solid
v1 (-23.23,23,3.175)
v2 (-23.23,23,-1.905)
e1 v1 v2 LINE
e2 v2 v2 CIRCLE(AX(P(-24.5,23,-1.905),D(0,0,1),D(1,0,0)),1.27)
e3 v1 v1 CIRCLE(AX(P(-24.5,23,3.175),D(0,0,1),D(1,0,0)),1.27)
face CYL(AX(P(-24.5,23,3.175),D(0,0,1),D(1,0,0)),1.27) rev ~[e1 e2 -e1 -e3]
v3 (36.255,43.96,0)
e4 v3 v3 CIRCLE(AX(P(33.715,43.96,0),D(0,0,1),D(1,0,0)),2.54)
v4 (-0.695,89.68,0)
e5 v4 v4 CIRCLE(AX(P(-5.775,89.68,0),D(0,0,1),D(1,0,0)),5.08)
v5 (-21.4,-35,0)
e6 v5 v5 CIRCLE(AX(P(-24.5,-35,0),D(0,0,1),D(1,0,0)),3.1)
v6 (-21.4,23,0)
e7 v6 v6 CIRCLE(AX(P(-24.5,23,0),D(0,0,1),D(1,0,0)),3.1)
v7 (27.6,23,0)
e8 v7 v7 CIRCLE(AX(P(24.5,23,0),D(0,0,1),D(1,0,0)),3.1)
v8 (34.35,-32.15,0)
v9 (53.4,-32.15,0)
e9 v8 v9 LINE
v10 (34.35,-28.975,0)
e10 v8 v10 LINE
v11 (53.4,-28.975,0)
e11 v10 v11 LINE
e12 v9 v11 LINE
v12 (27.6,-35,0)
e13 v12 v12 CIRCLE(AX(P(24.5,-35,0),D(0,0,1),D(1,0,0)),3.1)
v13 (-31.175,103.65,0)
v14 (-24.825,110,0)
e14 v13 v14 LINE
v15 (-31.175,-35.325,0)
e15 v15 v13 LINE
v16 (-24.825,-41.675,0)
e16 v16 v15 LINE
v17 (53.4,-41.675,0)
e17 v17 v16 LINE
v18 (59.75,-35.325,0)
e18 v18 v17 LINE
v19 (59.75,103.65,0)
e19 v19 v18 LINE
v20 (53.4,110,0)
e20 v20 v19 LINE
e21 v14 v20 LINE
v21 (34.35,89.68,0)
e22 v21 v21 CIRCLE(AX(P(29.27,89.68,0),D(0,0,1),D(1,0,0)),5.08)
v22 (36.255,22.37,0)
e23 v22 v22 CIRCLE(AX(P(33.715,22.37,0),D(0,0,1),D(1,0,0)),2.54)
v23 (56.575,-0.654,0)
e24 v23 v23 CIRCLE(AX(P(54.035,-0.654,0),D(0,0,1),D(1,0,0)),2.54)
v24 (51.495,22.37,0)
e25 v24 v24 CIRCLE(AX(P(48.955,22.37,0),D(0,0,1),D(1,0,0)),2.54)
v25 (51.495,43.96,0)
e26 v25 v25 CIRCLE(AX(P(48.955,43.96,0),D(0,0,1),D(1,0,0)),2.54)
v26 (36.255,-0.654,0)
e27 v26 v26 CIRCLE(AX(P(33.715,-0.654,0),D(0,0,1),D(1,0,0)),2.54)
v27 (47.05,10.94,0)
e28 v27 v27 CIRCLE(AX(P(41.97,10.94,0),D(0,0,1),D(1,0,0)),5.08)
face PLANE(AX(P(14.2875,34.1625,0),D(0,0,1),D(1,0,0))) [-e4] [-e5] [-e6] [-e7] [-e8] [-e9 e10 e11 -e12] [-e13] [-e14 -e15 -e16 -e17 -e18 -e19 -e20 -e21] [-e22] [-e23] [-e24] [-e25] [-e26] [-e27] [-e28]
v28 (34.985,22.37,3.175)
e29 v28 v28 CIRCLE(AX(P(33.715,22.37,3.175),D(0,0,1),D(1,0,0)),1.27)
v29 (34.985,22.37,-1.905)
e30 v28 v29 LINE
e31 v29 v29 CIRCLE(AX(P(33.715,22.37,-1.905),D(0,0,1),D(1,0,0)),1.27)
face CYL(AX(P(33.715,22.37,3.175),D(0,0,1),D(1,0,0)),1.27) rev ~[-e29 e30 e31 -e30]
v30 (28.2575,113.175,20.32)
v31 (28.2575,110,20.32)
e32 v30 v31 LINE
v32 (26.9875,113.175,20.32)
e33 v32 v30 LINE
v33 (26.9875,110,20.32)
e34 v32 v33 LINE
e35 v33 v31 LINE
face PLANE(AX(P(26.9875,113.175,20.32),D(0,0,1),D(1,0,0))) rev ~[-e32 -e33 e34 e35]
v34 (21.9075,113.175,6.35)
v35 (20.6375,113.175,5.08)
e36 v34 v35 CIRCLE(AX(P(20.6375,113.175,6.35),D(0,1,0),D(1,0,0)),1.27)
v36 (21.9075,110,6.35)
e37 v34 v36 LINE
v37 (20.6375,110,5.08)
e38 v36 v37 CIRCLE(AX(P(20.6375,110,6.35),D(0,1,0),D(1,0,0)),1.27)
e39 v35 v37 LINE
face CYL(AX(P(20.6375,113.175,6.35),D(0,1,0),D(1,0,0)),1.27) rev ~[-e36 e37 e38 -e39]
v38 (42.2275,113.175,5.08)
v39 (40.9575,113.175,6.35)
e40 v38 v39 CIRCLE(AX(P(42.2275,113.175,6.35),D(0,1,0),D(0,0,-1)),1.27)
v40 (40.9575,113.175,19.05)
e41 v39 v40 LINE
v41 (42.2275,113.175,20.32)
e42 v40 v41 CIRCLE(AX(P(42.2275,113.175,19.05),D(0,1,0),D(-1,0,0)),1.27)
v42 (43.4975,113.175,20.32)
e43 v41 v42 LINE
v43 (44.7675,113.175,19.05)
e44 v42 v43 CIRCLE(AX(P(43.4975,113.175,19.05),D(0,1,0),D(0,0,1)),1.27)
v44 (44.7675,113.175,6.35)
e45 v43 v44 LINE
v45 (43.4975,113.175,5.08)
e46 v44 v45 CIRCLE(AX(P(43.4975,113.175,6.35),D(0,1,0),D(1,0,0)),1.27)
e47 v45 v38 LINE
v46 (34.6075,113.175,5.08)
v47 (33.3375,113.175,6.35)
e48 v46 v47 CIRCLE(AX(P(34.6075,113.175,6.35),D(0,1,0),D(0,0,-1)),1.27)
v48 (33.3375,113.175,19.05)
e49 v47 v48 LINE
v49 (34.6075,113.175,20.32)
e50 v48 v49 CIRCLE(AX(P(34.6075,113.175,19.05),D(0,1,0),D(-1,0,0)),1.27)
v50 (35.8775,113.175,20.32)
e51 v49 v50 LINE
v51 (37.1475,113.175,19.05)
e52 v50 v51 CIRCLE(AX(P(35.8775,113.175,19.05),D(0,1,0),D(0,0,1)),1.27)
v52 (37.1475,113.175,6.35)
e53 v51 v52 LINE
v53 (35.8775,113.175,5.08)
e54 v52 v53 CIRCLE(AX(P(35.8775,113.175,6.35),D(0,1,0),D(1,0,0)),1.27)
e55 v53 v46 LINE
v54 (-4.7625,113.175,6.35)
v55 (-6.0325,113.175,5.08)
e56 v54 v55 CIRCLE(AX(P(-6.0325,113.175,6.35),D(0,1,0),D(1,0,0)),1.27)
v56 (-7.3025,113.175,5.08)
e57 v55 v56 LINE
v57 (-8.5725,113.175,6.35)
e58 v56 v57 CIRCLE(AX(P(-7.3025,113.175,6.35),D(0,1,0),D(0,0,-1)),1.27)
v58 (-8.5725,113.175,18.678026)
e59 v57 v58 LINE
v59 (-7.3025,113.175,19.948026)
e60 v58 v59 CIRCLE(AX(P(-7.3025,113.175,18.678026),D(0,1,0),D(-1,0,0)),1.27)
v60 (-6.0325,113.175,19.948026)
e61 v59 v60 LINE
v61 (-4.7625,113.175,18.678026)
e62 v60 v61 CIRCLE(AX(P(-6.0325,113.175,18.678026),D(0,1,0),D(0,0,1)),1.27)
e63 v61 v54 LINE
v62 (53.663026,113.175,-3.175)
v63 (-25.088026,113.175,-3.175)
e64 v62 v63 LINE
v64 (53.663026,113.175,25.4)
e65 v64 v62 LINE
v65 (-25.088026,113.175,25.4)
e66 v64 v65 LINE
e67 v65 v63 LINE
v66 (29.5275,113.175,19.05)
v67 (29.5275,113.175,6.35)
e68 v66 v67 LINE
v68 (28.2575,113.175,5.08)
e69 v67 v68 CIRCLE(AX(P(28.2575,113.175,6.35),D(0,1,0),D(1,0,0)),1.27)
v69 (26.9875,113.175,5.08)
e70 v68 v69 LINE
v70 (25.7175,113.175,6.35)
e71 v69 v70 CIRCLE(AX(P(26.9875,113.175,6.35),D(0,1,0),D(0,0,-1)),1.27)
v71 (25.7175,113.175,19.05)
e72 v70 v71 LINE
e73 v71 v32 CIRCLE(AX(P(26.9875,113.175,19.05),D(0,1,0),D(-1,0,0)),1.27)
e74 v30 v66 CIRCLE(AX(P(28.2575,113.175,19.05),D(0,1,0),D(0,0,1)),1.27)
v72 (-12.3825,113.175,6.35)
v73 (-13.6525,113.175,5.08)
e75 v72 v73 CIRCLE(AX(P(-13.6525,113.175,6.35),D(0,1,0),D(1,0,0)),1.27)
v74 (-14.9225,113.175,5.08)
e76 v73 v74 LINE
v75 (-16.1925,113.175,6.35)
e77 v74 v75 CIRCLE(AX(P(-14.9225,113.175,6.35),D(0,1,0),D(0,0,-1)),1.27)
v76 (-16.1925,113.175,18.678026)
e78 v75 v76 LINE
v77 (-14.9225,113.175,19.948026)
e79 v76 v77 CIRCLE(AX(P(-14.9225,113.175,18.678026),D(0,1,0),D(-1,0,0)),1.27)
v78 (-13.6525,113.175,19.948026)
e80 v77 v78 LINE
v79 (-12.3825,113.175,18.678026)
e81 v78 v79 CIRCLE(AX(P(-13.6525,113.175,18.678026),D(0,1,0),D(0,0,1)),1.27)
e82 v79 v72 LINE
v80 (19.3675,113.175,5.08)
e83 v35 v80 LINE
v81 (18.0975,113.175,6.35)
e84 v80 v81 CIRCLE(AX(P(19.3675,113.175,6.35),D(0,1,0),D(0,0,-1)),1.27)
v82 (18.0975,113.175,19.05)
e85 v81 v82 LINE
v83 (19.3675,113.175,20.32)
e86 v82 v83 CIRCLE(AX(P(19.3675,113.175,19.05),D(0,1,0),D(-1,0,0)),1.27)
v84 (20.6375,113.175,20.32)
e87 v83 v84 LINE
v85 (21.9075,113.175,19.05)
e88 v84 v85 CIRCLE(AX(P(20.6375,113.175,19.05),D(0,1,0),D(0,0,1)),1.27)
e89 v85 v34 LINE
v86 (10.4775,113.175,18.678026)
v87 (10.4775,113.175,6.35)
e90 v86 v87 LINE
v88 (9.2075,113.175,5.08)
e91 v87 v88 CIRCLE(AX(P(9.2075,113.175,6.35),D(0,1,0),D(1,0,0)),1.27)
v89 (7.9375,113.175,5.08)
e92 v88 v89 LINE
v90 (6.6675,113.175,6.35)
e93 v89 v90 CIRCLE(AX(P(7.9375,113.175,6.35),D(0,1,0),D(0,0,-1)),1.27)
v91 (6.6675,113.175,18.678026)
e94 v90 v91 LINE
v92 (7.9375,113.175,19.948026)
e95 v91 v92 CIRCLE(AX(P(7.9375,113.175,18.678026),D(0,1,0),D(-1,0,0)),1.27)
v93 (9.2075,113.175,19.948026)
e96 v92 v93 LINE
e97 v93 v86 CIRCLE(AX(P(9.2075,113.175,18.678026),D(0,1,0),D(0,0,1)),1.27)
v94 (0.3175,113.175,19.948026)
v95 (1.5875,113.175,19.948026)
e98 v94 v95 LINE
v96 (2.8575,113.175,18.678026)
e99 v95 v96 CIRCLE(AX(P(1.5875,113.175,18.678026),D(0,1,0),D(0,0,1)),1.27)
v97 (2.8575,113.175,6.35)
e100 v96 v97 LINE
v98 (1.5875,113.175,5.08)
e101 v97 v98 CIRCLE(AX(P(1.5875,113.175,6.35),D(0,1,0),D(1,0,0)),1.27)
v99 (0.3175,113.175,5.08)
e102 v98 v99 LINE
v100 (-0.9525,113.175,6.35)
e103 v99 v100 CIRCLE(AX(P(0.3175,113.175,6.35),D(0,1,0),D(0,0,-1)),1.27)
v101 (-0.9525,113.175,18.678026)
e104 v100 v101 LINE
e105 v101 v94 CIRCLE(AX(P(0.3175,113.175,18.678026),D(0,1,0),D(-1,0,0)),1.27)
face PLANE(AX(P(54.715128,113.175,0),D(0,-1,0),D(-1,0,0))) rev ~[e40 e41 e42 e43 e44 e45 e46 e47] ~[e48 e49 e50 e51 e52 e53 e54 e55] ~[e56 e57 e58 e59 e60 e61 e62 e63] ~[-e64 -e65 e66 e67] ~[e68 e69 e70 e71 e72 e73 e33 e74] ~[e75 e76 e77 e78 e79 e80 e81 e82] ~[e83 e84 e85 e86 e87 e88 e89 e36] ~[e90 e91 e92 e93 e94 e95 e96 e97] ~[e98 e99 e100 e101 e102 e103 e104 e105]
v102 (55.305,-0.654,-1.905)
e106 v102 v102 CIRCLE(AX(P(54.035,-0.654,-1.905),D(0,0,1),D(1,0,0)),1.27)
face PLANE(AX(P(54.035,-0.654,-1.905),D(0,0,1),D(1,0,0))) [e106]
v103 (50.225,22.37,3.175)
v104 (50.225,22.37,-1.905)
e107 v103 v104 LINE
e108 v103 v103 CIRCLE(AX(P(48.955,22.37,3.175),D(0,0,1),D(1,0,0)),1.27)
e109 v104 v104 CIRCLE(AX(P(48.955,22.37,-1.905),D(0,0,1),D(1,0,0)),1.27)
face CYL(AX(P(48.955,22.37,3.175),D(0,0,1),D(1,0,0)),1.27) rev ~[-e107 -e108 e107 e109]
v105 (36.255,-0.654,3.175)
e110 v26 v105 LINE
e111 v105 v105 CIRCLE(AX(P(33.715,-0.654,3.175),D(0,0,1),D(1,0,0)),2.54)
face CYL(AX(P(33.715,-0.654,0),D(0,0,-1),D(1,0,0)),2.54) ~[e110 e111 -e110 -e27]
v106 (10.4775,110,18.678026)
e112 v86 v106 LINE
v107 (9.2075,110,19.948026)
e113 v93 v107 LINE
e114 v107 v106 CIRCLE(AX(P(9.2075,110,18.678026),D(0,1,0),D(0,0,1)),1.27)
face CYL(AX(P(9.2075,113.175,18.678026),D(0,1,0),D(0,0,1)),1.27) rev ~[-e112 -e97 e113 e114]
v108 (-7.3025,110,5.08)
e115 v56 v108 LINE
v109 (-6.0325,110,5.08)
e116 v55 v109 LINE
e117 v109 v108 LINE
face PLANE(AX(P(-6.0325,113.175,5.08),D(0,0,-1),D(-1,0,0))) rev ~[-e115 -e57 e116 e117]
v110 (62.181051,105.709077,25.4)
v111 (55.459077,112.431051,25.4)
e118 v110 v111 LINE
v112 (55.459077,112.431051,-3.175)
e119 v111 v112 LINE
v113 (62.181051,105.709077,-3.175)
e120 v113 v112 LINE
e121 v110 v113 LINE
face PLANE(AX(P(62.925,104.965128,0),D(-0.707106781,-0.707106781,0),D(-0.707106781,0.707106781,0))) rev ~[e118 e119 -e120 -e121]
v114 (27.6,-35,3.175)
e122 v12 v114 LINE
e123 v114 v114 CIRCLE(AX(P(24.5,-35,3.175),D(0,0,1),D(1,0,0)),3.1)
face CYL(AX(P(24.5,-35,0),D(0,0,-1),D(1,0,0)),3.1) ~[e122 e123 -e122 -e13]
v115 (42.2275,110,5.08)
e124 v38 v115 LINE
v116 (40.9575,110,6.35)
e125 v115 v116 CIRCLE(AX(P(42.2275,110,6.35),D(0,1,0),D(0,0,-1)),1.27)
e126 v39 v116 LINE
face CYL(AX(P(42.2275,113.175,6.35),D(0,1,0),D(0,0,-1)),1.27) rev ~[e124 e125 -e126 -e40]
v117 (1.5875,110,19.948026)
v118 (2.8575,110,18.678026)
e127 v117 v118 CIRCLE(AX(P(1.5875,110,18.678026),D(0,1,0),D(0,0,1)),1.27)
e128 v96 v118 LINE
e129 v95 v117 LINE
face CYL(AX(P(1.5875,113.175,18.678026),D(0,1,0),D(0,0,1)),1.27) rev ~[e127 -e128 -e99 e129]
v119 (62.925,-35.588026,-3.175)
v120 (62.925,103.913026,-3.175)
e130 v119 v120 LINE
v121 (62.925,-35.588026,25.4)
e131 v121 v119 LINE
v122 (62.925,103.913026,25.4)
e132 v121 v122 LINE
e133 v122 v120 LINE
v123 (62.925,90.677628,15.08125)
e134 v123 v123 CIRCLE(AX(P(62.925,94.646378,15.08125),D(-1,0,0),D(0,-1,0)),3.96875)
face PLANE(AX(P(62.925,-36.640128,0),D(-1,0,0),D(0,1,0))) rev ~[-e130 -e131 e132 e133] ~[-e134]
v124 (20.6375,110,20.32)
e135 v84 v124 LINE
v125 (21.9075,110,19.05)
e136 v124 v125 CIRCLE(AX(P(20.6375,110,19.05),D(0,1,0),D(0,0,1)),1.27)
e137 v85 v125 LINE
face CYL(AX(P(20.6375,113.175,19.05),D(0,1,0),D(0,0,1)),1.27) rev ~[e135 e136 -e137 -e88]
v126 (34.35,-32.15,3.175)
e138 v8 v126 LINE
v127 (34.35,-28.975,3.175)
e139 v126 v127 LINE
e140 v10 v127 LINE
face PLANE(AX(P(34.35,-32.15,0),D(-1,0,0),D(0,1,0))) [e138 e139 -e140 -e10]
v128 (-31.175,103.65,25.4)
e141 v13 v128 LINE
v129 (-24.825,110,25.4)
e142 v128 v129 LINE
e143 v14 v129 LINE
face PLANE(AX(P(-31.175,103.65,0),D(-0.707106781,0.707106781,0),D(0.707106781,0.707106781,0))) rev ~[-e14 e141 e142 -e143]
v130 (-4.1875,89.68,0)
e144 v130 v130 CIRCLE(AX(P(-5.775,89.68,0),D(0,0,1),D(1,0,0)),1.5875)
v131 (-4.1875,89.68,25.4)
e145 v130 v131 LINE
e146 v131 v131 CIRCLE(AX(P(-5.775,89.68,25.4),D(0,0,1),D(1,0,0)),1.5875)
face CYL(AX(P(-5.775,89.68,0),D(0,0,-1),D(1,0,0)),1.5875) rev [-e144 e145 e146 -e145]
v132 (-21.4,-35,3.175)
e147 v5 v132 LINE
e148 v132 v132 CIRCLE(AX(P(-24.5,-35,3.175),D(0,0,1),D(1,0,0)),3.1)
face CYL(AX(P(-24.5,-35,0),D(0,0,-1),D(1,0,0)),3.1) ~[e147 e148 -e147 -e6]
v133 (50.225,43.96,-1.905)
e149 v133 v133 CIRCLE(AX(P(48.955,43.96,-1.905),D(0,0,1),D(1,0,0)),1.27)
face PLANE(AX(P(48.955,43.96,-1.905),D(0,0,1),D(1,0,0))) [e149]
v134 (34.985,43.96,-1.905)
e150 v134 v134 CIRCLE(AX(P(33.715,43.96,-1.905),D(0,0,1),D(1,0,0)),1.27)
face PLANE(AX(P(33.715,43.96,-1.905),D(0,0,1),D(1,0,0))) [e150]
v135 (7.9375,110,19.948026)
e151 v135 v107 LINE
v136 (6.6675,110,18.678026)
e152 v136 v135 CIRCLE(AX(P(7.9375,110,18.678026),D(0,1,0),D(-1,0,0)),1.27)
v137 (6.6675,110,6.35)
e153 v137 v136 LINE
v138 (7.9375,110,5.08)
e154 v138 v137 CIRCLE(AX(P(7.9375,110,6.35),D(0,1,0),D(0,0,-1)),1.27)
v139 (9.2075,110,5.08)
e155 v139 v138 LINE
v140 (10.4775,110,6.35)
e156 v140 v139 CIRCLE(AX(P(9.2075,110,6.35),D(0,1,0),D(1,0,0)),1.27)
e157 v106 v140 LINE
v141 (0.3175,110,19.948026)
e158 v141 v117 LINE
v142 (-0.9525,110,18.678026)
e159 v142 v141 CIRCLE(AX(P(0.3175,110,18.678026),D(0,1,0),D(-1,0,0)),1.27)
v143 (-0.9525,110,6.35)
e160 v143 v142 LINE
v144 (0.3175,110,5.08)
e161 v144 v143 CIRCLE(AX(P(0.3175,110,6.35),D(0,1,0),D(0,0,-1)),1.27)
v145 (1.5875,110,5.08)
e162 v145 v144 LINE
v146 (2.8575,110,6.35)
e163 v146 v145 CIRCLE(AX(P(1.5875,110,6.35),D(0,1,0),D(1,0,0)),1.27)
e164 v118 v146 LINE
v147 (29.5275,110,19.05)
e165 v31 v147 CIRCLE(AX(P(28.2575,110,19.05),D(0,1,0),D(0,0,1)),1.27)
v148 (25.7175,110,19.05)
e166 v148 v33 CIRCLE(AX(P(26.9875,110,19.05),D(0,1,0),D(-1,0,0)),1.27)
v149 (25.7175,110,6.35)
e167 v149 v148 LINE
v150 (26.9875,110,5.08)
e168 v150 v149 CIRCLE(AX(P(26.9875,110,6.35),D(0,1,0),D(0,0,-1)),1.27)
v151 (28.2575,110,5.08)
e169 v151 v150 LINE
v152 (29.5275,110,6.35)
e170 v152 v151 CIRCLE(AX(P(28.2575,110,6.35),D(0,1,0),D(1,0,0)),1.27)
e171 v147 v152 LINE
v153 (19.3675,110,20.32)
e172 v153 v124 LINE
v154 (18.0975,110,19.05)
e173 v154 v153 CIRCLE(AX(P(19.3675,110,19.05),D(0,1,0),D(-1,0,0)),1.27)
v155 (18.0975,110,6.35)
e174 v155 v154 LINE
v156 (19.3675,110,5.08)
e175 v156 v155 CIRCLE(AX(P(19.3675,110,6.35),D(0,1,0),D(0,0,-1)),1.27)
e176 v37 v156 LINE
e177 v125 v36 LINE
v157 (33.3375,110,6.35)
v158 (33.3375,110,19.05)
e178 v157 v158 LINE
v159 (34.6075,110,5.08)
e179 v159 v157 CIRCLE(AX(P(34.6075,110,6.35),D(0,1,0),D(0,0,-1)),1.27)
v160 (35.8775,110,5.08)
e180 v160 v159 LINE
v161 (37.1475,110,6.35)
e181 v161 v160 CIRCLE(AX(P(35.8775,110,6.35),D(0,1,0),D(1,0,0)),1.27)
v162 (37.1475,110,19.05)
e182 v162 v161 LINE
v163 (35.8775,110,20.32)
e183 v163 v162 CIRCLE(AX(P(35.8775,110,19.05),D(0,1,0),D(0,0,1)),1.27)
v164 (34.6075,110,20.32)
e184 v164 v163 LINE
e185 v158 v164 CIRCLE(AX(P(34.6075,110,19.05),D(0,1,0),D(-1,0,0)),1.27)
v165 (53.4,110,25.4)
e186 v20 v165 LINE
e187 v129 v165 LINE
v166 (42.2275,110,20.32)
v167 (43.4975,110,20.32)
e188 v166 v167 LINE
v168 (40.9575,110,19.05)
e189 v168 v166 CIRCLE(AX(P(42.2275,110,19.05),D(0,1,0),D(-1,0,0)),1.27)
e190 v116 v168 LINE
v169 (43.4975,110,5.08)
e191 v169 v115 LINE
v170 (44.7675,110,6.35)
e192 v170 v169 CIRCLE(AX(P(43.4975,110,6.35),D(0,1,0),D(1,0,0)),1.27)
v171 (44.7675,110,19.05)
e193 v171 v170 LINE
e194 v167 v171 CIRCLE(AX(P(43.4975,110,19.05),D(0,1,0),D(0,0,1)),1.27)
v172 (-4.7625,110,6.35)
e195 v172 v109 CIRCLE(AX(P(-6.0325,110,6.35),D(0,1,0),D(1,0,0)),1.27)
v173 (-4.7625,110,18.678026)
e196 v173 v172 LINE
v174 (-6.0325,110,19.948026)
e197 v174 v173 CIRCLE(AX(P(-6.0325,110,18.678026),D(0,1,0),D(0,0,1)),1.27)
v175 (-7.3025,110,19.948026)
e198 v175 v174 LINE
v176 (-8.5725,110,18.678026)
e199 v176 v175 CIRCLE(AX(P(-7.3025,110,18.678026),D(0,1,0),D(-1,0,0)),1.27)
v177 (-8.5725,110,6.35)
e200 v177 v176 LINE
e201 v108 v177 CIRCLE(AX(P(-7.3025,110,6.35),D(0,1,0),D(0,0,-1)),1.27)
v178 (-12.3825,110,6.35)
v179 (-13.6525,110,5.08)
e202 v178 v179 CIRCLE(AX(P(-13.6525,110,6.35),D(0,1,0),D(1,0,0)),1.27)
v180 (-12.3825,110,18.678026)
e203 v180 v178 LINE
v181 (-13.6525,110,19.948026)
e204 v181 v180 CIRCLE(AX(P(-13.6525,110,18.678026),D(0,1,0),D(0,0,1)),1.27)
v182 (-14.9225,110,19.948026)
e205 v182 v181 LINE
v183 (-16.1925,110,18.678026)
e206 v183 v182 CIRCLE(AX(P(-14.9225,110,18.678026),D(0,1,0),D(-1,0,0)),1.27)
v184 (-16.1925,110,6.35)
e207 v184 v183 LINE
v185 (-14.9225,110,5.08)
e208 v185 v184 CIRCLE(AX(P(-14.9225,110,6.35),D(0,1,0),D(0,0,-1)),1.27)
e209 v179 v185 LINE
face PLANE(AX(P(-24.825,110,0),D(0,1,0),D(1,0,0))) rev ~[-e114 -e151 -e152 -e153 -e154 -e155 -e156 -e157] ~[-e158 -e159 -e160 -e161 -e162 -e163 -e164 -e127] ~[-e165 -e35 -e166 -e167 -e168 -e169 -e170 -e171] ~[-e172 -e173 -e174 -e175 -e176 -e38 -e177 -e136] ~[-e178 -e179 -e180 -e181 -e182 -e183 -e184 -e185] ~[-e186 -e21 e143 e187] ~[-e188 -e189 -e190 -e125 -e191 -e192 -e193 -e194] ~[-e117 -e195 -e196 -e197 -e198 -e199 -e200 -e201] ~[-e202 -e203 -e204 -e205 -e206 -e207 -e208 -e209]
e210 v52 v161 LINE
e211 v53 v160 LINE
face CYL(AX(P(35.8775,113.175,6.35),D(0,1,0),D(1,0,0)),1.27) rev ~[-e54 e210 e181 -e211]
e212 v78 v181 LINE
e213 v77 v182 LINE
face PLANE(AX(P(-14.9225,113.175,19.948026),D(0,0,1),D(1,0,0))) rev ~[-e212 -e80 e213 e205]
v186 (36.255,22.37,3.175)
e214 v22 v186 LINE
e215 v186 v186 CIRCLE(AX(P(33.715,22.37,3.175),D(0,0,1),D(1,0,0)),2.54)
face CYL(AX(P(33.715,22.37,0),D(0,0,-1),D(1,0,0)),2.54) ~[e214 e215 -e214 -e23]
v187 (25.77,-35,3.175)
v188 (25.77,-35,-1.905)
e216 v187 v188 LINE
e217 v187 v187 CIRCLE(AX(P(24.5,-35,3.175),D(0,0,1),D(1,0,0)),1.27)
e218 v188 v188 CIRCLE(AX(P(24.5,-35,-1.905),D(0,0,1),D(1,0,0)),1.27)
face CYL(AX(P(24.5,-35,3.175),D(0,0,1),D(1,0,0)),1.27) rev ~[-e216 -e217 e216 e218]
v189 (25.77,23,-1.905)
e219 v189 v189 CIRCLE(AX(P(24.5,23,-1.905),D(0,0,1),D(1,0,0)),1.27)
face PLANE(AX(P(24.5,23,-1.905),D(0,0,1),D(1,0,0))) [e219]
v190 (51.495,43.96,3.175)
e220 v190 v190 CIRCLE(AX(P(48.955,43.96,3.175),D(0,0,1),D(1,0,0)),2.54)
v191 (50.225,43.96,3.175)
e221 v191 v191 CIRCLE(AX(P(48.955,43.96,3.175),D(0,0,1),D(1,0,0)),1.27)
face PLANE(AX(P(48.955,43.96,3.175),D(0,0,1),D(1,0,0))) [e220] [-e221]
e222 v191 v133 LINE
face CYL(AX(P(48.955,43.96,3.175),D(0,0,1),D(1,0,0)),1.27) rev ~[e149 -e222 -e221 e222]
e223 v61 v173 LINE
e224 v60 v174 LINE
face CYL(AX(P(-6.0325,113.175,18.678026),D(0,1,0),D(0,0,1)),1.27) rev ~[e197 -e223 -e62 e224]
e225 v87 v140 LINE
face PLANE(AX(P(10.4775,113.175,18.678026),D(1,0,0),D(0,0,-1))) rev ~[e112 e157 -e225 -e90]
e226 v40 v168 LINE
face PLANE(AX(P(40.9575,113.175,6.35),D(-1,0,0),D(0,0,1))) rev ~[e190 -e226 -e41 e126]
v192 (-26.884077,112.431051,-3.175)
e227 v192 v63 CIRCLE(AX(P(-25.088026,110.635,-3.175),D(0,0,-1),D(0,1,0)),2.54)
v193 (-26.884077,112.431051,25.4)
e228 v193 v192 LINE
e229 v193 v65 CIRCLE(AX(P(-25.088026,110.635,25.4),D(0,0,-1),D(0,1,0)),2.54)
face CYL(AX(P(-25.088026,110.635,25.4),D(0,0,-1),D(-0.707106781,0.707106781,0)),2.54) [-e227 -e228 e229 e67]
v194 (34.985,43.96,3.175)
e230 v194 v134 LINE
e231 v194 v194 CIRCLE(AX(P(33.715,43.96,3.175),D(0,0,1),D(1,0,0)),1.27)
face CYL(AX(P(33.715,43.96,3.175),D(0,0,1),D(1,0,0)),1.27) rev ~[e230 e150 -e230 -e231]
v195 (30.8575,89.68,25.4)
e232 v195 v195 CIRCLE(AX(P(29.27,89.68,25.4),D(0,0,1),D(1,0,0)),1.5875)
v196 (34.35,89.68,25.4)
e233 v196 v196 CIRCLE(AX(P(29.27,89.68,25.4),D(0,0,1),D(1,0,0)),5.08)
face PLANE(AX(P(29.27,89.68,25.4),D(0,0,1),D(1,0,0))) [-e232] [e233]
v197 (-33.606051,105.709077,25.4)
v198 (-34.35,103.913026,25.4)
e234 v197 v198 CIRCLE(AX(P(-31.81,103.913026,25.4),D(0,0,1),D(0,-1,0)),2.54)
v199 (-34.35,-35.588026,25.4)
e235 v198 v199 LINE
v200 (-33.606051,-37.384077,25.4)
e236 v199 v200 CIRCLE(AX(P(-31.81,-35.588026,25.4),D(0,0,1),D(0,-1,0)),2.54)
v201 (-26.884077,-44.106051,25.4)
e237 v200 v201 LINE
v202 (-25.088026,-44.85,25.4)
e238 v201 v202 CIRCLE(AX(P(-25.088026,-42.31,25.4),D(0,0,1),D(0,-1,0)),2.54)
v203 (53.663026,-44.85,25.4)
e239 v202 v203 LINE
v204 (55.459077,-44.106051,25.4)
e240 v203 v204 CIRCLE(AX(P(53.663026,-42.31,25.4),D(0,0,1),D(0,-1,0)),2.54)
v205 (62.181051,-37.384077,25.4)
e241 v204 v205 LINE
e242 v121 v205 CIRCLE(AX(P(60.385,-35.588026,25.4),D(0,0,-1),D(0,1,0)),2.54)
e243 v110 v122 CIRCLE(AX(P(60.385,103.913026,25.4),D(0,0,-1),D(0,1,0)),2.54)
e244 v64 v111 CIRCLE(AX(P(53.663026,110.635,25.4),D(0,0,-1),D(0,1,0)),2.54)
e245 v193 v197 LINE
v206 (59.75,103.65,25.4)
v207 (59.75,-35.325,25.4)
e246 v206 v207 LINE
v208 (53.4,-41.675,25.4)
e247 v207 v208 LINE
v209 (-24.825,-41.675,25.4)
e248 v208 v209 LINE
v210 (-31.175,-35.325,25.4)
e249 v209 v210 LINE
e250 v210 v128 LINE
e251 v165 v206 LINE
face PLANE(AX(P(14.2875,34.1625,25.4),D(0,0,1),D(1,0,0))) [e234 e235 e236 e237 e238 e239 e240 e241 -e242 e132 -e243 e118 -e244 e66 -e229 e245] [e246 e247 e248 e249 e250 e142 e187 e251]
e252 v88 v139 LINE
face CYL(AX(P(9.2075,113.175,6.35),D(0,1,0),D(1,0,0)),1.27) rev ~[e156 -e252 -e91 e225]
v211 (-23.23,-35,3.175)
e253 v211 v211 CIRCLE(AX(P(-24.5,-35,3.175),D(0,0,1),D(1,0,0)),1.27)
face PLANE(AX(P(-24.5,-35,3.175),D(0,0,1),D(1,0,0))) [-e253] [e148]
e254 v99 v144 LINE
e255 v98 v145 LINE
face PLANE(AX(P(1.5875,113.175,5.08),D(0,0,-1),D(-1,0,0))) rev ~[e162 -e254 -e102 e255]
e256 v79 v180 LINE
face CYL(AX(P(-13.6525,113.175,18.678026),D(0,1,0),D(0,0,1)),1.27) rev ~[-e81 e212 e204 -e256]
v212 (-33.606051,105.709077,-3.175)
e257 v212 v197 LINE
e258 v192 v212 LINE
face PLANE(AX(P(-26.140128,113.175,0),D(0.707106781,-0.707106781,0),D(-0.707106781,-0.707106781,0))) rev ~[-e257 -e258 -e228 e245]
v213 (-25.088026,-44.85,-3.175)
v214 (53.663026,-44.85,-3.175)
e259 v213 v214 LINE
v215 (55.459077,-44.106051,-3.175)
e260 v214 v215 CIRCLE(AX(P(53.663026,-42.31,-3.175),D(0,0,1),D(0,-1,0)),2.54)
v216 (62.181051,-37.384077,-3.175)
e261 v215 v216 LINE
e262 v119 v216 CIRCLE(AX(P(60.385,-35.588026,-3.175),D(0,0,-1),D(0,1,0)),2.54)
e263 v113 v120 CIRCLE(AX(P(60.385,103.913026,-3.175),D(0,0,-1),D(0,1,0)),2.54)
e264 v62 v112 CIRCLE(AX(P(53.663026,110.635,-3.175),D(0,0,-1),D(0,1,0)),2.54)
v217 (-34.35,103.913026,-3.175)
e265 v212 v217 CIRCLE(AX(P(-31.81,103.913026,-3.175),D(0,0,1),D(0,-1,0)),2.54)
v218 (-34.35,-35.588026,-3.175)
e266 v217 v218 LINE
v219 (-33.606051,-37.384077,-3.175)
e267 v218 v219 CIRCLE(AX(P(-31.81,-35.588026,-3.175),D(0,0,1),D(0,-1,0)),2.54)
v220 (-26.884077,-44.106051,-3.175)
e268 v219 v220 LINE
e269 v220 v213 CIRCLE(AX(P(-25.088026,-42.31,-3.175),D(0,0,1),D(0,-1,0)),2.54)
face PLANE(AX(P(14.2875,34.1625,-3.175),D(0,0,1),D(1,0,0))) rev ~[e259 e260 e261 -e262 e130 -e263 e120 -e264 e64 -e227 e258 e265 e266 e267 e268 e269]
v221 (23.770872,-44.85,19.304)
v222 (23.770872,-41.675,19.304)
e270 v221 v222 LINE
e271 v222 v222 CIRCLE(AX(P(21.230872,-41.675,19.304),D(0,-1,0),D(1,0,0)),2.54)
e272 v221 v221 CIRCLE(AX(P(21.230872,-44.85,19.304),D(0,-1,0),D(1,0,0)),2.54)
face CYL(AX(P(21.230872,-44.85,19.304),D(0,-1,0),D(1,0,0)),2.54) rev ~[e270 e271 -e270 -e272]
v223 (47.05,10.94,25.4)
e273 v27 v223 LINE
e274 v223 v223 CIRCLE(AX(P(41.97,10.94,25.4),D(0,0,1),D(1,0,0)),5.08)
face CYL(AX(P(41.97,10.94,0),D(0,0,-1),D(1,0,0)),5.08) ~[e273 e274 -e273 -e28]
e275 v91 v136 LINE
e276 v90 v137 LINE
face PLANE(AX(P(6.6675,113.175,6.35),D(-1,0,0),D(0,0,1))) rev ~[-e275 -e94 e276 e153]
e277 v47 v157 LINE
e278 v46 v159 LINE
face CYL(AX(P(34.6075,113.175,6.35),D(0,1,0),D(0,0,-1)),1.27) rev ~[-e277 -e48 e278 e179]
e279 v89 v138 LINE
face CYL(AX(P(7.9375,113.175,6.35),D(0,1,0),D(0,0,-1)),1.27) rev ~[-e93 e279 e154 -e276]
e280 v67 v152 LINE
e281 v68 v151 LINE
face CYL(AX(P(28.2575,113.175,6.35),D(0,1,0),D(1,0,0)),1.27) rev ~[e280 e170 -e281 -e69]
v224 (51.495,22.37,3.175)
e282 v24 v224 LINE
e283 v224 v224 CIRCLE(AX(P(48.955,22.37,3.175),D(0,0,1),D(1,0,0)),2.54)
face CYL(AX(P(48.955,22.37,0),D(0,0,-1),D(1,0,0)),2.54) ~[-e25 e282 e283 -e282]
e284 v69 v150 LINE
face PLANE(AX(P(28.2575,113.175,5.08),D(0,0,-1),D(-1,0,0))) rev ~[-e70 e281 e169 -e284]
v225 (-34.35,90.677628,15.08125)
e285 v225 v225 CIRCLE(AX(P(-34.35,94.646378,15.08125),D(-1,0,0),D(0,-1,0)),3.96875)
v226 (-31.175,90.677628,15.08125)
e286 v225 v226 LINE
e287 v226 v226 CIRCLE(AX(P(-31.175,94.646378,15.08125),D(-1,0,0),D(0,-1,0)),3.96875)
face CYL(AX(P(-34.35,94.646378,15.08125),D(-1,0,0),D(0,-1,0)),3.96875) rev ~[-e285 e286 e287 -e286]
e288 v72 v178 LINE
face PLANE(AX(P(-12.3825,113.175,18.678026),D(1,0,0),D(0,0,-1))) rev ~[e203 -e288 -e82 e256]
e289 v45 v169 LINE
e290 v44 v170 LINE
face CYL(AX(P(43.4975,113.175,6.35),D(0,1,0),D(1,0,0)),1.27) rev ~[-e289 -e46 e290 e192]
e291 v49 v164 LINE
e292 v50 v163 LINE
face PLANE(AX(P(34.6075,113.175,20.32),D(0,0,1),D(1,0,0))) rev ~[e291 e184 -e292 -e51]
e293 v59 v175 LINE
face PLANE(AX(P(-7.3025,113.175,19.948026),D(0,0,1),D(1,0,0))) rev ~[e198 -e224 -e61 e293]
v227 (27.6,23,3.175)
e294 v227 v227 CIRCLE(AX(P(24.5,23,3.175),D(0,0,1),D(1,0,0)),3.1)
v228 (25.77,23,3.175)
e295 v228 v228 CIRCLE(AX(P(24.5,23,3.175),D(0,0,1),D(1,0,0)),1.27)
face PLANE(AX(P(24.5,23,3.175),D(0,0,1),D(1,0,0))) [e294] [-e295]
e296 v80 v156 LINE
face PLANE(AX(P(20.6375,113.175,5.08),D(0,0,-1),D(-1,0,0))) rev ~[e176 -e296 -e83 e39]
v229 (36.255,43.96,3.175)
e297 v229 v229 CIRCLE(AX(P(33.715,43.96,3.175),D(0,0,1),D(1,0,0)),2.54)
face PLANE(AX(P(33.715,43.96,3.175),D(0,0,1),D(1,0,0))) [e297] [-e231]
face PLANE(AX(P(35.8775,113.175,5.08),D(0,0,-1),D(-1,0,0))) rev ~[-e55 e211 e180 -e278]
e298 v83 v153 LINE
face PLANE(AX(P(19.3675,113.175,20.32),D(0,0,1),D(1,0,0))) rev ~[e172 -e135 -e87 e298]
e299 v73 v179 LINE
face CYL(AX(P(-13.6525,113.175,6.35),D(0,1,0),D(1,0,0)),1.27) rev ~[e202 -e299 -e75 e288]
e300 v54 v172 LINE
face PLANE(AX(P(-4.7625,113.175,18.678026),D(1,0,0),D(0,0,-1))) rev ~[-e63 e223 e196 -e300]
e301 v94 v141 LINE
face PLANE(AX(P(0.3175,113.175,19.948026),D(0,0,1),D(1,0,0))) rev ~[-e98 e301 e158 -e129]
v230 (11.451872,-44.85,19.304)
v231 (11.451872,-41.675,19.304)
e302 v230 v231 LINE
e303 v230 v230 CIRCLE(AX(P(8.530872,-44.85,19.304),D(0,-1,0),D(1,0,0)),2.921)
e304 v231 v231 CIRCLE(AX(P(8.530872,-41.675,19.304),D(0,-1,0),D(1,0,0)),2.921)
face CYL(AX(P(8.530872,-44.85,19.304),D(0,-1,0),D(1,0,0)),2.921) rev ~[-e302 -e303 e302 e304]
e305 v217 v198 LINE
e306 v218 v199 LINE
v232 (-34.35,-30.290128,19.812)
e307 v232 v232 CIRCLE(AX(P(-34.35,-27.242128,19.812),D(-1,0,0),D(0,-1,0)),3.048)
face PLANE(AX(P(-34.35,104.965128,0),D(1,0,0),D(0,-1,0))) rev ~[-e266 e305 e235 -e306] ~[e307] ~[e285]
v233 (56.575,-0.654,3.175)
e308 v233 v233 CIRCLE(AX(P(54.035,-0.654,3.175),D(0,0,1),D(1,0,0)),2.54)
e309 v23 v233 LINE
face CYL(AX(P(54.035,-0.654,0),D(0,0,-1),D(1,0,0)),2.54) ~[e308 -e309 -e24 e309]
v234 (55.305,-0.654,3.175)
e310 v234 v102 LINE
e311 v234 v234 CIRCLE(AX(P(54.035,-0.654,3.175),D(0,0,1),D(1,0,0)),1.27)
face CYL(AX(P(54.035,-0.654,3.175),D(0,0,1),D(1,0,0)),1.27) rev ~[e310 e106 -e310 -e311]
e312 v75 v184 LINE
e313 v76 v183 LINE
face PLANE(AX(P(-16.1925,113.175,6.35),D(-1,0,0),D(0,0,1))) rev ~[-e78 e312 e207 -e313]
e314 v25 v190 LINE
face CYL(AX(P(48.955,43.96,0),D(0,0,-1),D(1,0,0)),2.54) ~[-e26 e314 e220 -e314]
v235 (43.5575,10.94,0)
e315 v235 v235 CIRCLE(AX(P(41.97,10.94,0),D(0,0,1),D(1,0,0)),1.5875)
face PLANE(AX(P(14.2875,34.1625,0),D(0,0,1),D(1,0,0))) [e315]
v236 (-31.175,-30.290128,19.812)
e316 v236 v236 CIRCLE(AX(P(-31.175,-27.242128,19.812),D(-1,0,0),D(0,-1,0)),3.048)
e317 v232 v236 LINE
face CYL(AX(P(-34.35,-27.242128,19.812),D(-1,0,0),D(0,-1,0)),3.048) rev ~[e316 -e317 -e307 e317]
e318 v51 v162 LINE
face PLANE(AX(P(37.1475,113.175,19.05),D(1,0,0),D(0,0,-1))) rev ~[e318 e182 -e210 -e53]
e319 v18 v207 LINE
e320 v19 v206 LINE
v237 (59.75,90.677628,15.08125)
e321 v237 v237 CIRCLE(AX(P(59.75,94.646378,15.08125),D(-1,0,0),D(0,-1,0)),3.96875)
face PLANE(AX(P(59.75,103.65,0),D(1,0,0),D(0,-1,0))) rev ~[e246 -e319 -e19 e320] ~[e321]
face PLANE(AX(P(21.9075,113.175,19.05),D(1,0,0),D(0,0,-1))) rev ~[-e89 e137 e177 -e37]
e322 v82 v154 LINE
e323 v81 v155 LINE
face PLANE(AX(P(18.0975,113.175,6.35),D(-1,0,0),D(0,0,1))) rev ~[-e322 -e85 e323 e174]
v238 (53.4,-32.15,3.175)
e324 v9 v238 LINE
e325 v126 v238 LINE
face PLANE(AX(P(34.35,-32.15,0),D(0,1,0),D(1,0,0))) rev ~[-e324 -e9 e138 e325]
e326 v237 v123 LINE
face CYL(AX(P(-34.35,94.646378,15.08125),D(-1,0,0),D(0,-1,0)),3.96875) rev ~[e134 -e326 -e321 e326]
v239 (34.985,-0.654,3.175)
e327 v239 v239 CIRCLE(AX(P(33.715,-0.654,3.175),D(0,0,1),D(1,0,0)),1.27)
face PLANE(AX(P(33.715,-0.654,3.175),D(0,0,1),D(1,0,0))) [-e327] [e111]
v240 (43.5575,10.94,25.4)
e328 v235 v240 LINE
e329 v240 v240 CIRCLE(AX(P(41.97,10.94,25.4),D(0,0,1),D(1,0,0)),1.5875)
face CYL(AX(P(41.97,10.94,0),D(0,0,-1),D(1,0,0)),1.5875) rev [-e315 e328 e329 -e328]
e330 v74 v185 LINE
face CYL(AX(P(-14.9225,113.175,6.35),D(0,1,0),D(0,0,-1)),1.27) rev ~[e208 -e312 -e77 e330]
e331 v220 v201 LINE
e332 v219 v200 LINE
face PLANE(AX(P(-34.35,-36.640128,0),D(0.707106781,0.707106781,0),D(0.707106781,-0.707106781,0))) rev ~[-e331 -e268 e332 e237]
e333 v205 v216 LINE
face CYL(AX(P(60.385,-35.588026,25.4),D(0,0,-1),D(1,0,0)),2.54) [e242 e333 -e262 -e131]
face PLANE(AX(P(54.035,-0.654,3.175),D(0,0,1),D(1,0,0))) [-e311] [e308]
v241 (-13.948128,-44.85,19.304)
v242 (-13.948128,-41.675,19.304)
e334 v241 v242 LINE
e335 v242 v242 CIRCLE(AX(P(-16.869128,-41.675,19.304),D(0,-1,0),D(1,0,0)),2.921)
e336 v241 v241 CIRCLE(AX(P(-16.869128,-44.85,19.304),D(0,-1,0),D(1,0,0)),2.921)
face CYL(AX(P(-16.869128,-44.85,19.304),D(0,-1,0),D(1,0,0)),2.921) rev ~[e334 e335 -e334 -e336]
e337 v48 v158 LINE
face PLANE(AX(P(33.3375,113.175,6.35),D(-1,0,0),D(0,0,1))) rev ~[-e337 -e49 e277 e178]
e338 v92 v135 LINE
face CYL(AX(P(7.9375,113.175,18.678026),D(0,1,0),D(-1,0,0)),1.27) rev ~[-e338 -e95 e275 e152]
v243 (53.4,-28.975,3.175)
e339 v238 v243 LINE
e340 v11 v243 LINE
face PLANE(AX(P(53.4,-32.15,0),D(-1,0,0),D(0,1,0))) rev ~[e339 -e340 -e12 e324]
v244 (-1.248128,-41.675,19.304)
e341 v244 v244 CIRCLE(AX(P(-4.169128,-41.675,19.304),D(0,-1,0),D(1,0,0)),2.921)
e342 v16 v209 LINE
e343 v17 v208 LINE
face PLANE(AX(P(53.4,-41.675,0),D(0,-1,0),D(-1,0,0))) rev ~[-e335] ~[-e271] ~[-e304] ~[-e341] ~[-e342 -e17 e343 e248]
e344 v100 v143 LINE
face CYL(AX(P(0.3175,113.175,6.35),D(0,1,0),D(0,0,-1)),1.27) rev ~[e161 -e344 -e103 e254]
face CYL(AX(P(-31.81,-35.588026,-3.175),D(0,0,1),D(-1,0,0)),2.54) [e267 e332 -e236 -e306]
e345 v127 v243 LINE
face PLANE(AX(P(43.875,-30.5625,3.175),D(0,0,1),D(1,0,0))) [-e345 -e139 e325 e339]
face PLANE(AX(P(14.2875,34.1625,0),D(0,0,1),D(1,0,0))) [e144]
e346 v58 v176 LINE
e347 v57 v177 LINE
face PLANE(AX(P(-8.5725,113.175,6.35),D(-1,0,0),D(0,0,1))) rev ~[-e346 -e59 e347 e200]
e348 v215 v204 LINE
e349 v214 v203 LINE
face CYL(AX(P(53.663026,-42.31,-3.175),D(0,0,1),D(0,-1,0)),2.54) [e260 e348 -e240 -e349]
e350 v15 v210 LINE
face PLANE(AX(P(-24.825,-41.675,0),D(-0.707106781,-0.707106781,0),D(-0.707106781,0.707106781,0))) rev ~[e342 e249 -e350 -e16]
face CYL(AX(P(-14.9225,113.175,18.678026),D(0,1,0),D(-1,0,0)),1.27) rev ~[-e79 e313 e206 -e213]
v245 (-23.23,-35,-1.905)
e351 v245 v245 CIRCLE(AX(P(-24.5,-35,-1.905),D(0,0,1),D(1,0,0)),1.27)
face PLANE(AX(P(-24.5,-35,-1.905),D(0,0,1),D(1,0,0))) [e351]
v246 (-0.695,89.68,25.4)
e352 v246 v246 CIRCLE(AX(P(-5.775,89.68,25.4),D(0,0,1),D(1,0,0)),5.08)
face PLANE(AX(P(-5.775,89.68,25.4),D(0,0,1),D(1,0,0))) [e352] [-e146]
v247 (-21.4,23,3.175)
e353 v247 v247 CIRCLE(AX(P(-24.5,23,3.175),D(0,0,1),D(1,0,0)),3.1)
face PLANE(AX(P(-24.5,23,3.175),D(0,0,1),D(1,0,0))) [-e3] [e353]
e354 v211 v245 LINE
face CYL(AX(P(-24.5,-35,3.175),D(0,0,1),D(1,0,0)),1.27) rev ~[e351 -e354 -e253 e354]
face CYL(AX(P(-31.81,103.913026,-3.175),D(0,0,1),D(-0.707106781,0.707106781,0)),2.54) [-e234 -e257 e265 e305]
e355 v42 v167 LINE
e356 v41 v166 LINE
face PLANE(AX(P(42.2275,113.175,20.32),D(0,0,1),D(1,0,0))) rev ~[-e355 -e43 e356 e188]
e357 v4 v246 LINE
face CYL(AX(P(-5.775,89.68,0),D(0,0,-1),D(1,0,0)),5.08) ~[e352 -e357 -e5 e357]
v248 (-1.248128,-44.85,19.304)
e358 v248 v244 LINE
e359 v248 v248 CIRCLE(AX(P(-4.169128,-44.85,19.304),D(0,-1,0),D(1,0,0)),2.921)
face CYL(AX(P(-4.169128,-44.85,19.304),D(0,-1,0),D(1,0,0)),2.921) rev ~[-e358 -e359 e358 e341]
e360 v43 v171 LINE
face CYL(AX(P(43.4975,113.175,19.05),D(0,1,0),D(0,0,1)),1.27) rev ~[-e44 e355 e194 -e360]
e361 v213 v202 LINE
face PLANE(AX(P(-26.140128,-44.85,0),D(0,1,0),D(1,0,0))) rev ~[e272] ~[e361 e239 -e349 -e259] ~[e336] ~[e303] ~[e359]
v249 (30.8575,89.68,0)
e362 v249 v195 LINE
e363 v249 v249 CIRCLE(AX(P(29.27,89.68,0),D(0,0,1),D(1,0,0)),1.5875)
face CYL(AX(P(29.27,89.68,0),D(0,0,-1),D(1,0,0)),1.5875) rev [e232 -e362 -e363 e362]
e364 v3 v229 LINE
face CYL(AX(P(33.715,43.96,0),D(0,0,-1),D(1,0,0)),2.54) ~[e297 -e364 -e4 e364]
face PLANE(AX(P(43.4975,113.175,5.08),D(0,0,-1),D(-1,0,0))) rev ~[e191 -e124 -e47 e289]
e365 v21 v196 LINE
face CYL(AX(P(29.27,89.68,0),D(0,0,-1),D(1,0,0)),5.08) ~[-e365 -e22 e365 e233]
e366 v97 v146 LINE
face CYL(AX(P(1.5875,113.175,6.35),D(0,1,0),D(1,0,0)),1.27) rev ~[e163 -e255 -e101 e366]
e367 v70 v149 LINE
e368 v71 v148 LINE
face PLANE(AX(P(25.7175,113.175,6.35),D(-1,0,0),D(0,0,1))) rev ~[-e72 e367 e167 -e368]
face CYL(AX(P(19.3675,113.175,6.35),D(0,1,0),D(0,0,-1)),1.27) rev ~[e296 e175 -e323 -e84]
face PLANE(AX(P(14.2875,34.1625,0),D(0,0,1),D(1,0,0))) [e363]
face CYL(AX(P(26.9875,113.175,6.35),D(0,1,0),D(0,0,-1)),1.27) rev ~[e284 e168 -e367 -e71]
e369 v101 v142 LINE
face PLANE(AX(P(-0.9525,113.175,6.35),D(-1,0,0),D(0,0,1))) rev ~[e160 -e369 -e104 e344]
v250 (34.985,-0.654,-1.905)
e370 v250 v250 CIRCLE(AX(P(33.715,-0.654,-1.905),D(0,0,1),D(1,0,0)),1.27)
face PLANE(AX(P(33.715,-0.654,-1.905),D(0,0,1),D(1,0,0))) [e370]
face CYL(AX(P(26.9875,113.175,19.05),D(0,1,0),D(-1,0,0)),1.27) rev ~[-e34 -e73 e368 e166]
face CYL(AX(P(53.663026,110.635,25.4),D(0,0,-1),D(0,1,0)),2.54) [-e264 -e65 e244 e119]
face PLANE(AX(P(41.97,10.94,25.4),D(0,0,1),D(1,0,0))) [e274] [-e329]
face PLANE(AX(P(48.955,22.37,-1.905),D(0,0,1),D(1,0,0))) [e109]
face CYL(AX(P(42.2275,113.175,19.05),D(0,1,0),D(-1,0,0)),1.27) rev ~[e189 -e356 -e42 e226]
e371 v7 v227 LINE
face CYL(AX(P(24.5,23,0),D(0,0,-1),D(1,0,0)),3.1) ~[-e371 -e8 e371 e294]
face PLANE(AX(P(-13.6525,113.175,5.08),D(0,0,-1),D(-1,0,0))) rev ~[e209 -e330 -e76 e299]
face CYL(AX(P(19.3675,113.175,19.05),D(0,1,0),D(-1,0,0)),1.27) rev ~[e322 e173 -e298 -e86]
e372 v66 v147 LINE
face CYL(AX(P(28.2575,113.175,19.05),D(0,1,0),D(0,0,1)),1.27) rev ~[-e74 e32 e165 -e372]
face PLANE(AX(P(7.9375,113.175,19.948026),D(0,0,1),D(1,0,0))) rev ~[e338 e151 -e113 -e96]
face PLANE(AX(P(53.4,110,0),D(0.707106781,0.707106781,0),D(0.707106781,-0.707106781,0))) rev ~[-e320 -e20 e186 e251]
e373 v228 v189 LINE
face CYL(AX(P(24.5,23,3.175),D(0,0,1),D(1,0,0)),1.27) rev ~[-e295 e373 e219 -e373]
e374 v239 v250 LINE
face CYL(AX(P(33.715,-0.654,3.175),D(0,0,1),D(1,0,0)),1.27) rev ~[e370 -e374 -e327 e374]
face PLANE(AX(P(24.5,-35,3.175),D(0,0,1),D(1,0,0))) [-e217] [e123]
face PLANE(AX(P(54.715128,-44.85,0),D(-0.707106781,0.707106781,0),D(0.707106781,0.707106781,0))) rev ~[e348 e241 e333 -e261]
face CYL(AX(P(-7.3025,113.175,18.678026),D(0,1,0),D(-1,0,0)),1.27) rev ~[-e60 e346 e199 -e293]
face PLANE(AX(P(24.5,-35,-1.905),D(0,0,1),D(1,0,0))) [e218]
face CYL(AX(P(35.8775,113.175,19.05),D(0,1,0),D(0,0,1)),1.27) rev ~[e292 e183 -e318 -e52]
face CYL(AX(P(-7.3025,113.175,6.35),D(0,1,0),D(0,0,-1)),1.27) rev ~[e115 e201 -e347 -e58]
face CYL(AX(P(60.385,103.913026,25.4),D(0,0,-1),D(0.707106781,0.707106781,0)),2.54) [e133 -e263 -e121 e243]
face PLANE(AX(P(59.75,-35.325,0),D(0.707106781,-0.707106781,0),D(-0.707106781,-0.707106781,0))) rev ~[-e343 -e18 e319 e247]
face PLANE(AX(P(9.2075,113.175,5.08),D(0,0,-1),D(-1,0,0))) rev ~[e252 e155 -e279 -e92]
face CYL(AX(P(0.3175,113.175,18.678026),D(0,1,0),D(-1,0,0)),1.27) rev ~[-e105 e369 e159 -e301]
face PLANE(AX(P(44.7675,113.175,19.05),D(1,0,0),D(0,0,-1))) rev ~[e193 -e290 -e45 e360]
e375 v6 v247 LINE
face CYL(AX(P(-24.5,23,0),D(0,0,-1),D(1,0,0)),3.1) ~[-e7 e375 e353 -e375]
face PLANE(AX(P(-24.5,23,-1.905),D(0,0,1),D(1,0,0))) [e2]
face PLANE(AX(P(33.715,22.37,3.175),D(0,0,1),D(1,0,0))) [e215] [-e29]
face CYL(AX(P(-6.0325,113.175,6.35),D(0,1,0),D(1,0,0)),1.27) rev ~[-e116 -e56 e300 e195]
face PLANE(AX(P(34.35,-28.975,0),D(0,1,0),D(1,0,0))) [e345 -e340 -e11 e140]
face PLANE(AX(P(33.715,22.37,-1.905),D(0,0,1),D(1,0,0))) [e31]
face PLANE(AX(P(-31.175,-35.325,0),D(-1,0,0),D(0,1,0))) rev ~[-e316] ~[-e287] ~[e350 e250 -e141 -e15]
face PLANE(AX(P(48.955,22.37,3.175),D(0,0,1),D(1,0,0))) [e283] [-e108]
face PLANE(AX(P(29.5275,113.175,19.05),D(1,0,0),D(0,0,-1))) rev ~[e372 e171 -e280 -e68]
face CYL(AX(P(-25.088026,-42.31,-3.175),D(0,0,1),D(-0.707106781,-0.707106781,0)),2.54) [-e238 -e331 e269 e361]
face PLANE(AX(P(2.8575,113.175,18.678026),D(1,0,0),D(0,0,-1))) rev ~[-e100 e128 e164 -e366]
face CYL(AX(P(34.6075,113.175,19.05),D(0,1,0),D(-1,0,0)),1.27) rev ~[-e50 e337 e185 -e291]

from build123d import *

# Parameters (mm, degrees)
F4_DEPTH  = 3.175
F5_DEPTH  = 25.4
F6_R      = 3.1
F6_R_2    = 2.54
F6_W      = 19.05
F6_H      = 3.175
F0_R      = 3.1
F0_R_2    = 1.375
F7_DEPTH  = 3.175
F8_R      = 1.27
F9_DEPTH  = 5.08
F10_R     = 3.048
F11_DEPTH = 3.175
F12_R     = 3.96875
F13_DEPTH = 97.276
F15_DEPTH = 3.175
F16_R     = 2.921
F16_R_2   = 2.54
F17_DEPTH = 3.175
F18_R     = 2.54
F19_R     = 5.08
F19_R_2   = 1.5875
F20_DEPTH = 25.4


with BuildPart() as f4:
    # F3 (on Top) → F4 (new body)
    with BuildSketch(Plane.XY):
        Polygon((-26.1401280605, 113.175), (-34.35, 104.9651280605), (-34.35, -36.6401280605), (-26.1401280605, -44.85), (54.7151280605, -44.85), (62.925, -36.6401280605), (62.925, 104.9651280605), (54.7151280605, 113.175), align=None)
        Polygon((-31.175, 103.65), (-24.825, 110), (53.4, 110), (59.75, 103.65), (59.75, -35.325), (53.4, -41.675), (-24.825, -41.675), (-31.175, -35.325), align=None, mode=Mode.SUBTRACT)
        Polygon((53.4, 110), (-24.825, 110), (-31.175, 103.65), (-31.175, -35.325), (-24.825, -41.675), (53.4, -41.675), (59.75, -35.325), (59.75, 103.65), align=None)
    extrude(amount=-F4_DEPTH)

    # F3 (on Top) → F5 (join)
    with BuildSketch(Plane.XY):
        Polygon((-26.1401280605, 113.175), (-34.35, 104.9651280605), (-34.35, -36.6401280605), (-26.1401280605, -44.85), (54.7151280605, -44.85), (62.925, -36.6401280605), (62.925, 104.9651280605), (54.7151280605, 113.175), align=None)
        Polygon((-31.175, 103.65), (-24.825, 110), (53.4, 110), (59.75, 103.65), (59.75, -35.325), (53.4, -41.675), (-24.825, -41.675), (-31.175, -35.325), align=None, mode=Mode.SUBTRACT)
    extrude(amount=F5_DEPTH)

    # F6 (on face) + F0 (on Top) → F7 (join)
    with BuildSketch(Plane.XY):
        with Locations((-24.5, 23)):
            Circle(F6_R)
        with Locations((24.5, 23)):
            Circle(F6_R)
        with Locations((-24.5, -35)):
            Circle(F6_R)
        with Locations((24.5, -35)):
            Circle(F6_R)
        with Locations((33.715, 43.96)):
            Circle(F6_R_2)
        with Locations((48.955, 43.96)):
            Circle(F6_R_2)
        with Locations((33.715, 22.37)):
            Circle(F6_R_2)
        with Locations((48.955, 22.37)):
            Circle(F6_R_2)
        with Locations((33.715, -0.654)):
            Circle(F6_R_2)
        with Locations((54.035, -0.654)):
            Circle(F6_R_2)
        with Locations((43.875, -30.5625)):
            Rectangle(F6_W, F6_H)
    with BuildSketch(Plane.XY):
        with Locations((-24.5, 23)):
            Circle(F0_R)
        with Locations((-24.5, 23)):
            Circle(F0_R_2, mode=Mode.SUBTRACT)
    extrude(amount=F7_DEPTH)

    # F8 (on face) → F9 (cut)
    with BuildSketch(Plane.XY.offset(3.175)):
        with Locations((-24.5, 23)):
            Circle(F8_R)
        with Locations((24.5, 23)):
            Circle(F8_R)
        with Locations((24.5, -35)):
            Circle(F8_R)
        with Locations((-24.5, -35)):
            Circle(F8_R)
        with Locations((33.715, 43.96)):
            Circle(F8_R)
        with Locations((48.955, 43.96)):
            Circle(F8_R)
        with Locations((33.715, 22.37)):
            Circle(F8_R)
        with Locations((48.955, 22.37)):
            Circle(F8_R)
        with Locations((33.715, -0.654)):
            Circle(F8_R)
        with Locations((54.035, -0.654)):
            Circle(F8_R)
    extrude(amount=-F9_DEPTH, mode=Mode.SUBTRACT)

    # F10 (on face) → F11 (cut, through all)
    with BuildSketch(Plane(origin=(-34.35, 0, 0), x_dir=(0, -1, 0), z_dir=(-1, 0, 0))):
        with Locations((27.2421280605, 19.812)):
            Circle(F10_R)
    extrude(amount=-F11_DEPTH, mode=Mode.SUBTRACT)

    # F12 (on face) → F13 (cut, through all)
    with BuildSketch(Plane(origin=(-34.35, 0, 0), x_dir=(0, -1, 0), z_dir=(-1, 0, 0))):
        with Locations((-94.6463780605, 15.08125)):
            Circle(F12_R)
    extrude(amount=-F13_DEPTH, mode=Mode.SUBTRACT)

    # F14 (on face) → F15 (cut, through all)
    with BuildSketch(Plane(origin=(0, 113.175, 0), x_dir=(-1, 0, 0), z_dir=(0, 1, 0))):
        with BuildLine():
            Line((-19.3675, 20.32), (-20.6375, 20.32))
            ThreePointArc((-20.6375, 20.32), (-21.5355256121, 19.9480256121), (-21.9075, 19.05))
            Line((-21.9075, 19.05), (-21.9075, 6.35))
            ThreePointArc((-21.9075, 6.35), (-21.5355256121, 5.4519743879), (-20.6375, 5.08))
            Line((-20.6375, 5.08), (-19.3675, 5.08))
            ThreePointArc((-19.3675, 5.08), (-18.4694743879, 5.4519743879), (-18.0975, 6.35))
            Line((-18.0975, 6.35), (-18.0975, 19.05))
            ThreePointArc((-18.0975, 19.05), (-18.4694743879, 19.9480256121), (-19.3675, 20.32))
        make_face()
        with BuildLine():
            Line((-25.7175, 6.35), (-25.7175, 19.05))
            ThreePointArc((-25.7175, 19.05), (-26.0894743879, 19.9480256121), (-26.9875, 20.32))
            Line((-26.9875, 20.32), (-28.2575, 20.32))
            ThreePointArc((-28.2575, 20.32), (-29.1555256121, 19.9480256121), (-29.5275, 19.05))
            Line((-29.5275, 19.05), (-29.5275, 6.35))
            ThreePointArc((-29.5275, 6.35), (-29.1555256121, 5.4519743879), (-28.2575, 5.08))
            Line((-28.2575, 5.08), (-26.9875, 5.08))
            ThreePointArc((-26.9875, 5.08), (-26.0894743879, 5.4519743879), (-25.7175, 6.35))
        make_face()
        with BuildLine():
            Line((-33.3375, 6.35), (-33.3375, 19.05))
            ThreePointArc((-33.3375, 19.05), (-33.7094743879, 19.9480256121), (-34.6075, 20.32))
            Line((-34.6075, 20.32), (-35.8775, 20.32))
            ThreePointArc((-35.8775, 20.32), (-36.7755256121, 19.9480256121), (-37.1475, 19.05))
            Line((-37.1475, 19.05), (-37.1475, 6.35))
            ThreePointArc((-37.1475, 6.35), (-36.7755256121, 5.4519743879), (-35.8775, 5.08))
            Line((-35.8775, 5.08), (-34.6075, 5.08))
            ThreePointArc((-34.6075, 5.08), (-33.7094743879, 5.4519743879), (-33.3375, 6.35))
        make_face()
        with BuildLine():
            Line((-40.9575, 6.35), (-40.9575, 19.05))
            ThreePointArc((-40.9575, 19.05), (-41.3294743879, 19.9480256121), (-42.2275, 20.32))
            Line((-42.2275, 20.32), (-43.4975, 20.32))
            ThreePointArc((-43.4975, 20.32), (-44.3955256121, 19.9480256121), (-44.7675, 19.05))
            Line((-44.7675, 19.05), (-44.7675, 6.35))
            ThreePointArc((-44.7675, 6.35), (-44.3955256121, 5.4519743879), (-43.4975, 5.08))
            Line((-43.4975, 5.08), (-42.2275, 5.08))
            ThreePointArc((-42.2275, 5.08), (-41.3294743879, 5.4519743879), (-40.9575, 6.35))
        make_face()
        with BuildLine():
            Line((-7.9375, 19.9480256121), (-9.2075, 19.9480256121))
            ThreePointArc((-9.2075, 19.9480256121), (-10.1055256121, 19.5760512242), (-10.4775, 18.6780256121))
            Line((-10.4775, 18.6780256121), (-10.4775, 6.35))
            ThreePointArc((-10.4775, 6.35), (-10.1055256121, 5.4519743879), (-9.2075, 5.08))
            Line((-9.2075, 5.08), (-7.9375, 5.08))
            ThreePointArc((-7.9375, 5.08), (-7.0394743879, 5.4519743879), (-6.6675, 6.35))
            Line((-6.6675, 6.35), (-6.6675, 18.6780256121))
            ThreePointArc((-6.6675, 18.6780256121), (-7.0394743879, 19.5760512242), (-7.9375, 19.9480256121))
        make_face()
        with BuildLine():
            ThreePointArc((-1.5875, 19.9480256121), (-2.4855256121, 19.5760512242), (-2.8575, 18.6780256121))
            Line((-2.8575, 18.6780256121), (-2.8575, 6.35))
            ThreePointArc((-2.8575, 6.35), (-2.4855256121, 5.4519743879), (-1.5875, 5.08))
            Line((-1.5875, 5.08), (-0.3175, 5.08))
            ThreePointArc((-0.3175, 5.08), (0.5805256121, 5.4519743879), (0.9525, 6.35))
            Line((0.9525, 6.35), (0.9525, 18.6780256121))
            ThreePointArc((0.9525, 18.6780256121), (0.5805256121, 19.5760512242), (-0.3175, 19.9480256121))
            Line((-0.3175, 19.9480256121), (-1.5875, 19.9480256121))
        make_face()
        with BuildLine():
            ThreePointArc((6.0325, 19.9480256121), (5.1344743879, 19.5760512242), (4.7625, 18.6780256121))
            Line((4.7625, 18.6780256121), (4.7625, 6.35))
            ThreePointArc((4.7625, 6.35), (5.1344743879, 5.4519743879), (6.0325, 5.08))
            Line((6.0325, 5.08), (7.3025, 5.08))
            ThreePointArc((7.3025, 5.08), (8.2005256121, 5.4519743879), (8.5725, 6.35))
            Line((8.5725, 6.35), (8.5725, 18.6780256121))
            ThreePointArc((8.5725, 18.6780256121), (8.2005256121, 19.5760512242), (7.3025, 19.9480256121))
            Line((7.3025, 19.9480256121), (6.0325, 19.9480256121))
        make_face()
        with BuildLine():
            ThreePointArc((13.6525, 19.9480256121), (12.7544743879, 19.5760512242), (12.3825, 18.6780256121))
            Line((12.3825, 18.6780256121), (12.3825, 6.35))
            ThreePointArc((12.3825, 6.35), (12.7544743879, 5.4519743879), (13.6525, 5.08))
            Line((13.6525, 5.08), (14.9225, 5.08))
            ThreePointArc((14.9225, 5.08), (15.8205256121, 5.4519743879), (16.1925, 6.35))
            Line((16.1925, 6.35), (16.1925, 18.6780256121))
            ThreePointArc((16.1925, 18.6780256121), (15.8205256121, 19.5760512242), (14.9225, 19.9480256121))
            Line((14.9225, 19.9480256121), (13.6525, 19.9480256121))
        make_face()
    extrude(amount=-F15_DEPTH, mode=Mode.SUBTRACT)

    # F16 (on face) → F17 (cut, through all)
    with BuildSketch(Plane.XZ.offset(44.85)):
        with Locations((-16.8691280605, 19.304)):
            Circle(F16_R)
        with Locations((-4.1691280605, 19.304)):
            Circle(F16_R)
        with Locations((8.5308719395, 19.304)):
            Circle(F16_R)
        with Locations((21.2308719395, 19.304)):
            Circle(F16_R_2)
    extrude(amount=-F17_DEPTH, mode=Mode.SUBTRACT)

    # F18
    f18_edges = [f4.edges().sort_by_distance(p)[0] for p in [
        (62.925, -36.640128, 11.1125),
        (54.715128, -44.85, 11.1125),
        (62.925, 104.965128, 11.1125),
        (54.715128, 113.175, 11.1125),
        (-26.140128, 113.175, 11.1125),
        (-34.35, 104.965128, 11.1125),
        (-34.35, -36.640128, 11.1125),
        (-26.140128, -44.85, 11.1125),
    ]]
    fillet(f18_edges, radius=F18_R)

    # F19 (on face) → F20 (join)
    with BuildSketch(Plane.XY):
        with Locations((-5.775, 89.68)):
            Circle(F19_R)
        with Locations((-5.775, 89.68)):
            Circle(F19_R_2, mode=Mode.SUBTRACT)
        with Locations((29.27, 89.68)):
            Circle(F19_R)
        with Locations((29.27, 89.68)):
            Circle(F19_R_2, mode=Mode.SUBTRACT)
        with Locations((41.97, 10.94)):
            Circle(F19_R)
        with Locations((41.97, 10.94)):
            Circle(F19_R_2, mode=Mode.SUBTRACT)
    extrude(amount=F20_DEPTH)


solid = f4.part
